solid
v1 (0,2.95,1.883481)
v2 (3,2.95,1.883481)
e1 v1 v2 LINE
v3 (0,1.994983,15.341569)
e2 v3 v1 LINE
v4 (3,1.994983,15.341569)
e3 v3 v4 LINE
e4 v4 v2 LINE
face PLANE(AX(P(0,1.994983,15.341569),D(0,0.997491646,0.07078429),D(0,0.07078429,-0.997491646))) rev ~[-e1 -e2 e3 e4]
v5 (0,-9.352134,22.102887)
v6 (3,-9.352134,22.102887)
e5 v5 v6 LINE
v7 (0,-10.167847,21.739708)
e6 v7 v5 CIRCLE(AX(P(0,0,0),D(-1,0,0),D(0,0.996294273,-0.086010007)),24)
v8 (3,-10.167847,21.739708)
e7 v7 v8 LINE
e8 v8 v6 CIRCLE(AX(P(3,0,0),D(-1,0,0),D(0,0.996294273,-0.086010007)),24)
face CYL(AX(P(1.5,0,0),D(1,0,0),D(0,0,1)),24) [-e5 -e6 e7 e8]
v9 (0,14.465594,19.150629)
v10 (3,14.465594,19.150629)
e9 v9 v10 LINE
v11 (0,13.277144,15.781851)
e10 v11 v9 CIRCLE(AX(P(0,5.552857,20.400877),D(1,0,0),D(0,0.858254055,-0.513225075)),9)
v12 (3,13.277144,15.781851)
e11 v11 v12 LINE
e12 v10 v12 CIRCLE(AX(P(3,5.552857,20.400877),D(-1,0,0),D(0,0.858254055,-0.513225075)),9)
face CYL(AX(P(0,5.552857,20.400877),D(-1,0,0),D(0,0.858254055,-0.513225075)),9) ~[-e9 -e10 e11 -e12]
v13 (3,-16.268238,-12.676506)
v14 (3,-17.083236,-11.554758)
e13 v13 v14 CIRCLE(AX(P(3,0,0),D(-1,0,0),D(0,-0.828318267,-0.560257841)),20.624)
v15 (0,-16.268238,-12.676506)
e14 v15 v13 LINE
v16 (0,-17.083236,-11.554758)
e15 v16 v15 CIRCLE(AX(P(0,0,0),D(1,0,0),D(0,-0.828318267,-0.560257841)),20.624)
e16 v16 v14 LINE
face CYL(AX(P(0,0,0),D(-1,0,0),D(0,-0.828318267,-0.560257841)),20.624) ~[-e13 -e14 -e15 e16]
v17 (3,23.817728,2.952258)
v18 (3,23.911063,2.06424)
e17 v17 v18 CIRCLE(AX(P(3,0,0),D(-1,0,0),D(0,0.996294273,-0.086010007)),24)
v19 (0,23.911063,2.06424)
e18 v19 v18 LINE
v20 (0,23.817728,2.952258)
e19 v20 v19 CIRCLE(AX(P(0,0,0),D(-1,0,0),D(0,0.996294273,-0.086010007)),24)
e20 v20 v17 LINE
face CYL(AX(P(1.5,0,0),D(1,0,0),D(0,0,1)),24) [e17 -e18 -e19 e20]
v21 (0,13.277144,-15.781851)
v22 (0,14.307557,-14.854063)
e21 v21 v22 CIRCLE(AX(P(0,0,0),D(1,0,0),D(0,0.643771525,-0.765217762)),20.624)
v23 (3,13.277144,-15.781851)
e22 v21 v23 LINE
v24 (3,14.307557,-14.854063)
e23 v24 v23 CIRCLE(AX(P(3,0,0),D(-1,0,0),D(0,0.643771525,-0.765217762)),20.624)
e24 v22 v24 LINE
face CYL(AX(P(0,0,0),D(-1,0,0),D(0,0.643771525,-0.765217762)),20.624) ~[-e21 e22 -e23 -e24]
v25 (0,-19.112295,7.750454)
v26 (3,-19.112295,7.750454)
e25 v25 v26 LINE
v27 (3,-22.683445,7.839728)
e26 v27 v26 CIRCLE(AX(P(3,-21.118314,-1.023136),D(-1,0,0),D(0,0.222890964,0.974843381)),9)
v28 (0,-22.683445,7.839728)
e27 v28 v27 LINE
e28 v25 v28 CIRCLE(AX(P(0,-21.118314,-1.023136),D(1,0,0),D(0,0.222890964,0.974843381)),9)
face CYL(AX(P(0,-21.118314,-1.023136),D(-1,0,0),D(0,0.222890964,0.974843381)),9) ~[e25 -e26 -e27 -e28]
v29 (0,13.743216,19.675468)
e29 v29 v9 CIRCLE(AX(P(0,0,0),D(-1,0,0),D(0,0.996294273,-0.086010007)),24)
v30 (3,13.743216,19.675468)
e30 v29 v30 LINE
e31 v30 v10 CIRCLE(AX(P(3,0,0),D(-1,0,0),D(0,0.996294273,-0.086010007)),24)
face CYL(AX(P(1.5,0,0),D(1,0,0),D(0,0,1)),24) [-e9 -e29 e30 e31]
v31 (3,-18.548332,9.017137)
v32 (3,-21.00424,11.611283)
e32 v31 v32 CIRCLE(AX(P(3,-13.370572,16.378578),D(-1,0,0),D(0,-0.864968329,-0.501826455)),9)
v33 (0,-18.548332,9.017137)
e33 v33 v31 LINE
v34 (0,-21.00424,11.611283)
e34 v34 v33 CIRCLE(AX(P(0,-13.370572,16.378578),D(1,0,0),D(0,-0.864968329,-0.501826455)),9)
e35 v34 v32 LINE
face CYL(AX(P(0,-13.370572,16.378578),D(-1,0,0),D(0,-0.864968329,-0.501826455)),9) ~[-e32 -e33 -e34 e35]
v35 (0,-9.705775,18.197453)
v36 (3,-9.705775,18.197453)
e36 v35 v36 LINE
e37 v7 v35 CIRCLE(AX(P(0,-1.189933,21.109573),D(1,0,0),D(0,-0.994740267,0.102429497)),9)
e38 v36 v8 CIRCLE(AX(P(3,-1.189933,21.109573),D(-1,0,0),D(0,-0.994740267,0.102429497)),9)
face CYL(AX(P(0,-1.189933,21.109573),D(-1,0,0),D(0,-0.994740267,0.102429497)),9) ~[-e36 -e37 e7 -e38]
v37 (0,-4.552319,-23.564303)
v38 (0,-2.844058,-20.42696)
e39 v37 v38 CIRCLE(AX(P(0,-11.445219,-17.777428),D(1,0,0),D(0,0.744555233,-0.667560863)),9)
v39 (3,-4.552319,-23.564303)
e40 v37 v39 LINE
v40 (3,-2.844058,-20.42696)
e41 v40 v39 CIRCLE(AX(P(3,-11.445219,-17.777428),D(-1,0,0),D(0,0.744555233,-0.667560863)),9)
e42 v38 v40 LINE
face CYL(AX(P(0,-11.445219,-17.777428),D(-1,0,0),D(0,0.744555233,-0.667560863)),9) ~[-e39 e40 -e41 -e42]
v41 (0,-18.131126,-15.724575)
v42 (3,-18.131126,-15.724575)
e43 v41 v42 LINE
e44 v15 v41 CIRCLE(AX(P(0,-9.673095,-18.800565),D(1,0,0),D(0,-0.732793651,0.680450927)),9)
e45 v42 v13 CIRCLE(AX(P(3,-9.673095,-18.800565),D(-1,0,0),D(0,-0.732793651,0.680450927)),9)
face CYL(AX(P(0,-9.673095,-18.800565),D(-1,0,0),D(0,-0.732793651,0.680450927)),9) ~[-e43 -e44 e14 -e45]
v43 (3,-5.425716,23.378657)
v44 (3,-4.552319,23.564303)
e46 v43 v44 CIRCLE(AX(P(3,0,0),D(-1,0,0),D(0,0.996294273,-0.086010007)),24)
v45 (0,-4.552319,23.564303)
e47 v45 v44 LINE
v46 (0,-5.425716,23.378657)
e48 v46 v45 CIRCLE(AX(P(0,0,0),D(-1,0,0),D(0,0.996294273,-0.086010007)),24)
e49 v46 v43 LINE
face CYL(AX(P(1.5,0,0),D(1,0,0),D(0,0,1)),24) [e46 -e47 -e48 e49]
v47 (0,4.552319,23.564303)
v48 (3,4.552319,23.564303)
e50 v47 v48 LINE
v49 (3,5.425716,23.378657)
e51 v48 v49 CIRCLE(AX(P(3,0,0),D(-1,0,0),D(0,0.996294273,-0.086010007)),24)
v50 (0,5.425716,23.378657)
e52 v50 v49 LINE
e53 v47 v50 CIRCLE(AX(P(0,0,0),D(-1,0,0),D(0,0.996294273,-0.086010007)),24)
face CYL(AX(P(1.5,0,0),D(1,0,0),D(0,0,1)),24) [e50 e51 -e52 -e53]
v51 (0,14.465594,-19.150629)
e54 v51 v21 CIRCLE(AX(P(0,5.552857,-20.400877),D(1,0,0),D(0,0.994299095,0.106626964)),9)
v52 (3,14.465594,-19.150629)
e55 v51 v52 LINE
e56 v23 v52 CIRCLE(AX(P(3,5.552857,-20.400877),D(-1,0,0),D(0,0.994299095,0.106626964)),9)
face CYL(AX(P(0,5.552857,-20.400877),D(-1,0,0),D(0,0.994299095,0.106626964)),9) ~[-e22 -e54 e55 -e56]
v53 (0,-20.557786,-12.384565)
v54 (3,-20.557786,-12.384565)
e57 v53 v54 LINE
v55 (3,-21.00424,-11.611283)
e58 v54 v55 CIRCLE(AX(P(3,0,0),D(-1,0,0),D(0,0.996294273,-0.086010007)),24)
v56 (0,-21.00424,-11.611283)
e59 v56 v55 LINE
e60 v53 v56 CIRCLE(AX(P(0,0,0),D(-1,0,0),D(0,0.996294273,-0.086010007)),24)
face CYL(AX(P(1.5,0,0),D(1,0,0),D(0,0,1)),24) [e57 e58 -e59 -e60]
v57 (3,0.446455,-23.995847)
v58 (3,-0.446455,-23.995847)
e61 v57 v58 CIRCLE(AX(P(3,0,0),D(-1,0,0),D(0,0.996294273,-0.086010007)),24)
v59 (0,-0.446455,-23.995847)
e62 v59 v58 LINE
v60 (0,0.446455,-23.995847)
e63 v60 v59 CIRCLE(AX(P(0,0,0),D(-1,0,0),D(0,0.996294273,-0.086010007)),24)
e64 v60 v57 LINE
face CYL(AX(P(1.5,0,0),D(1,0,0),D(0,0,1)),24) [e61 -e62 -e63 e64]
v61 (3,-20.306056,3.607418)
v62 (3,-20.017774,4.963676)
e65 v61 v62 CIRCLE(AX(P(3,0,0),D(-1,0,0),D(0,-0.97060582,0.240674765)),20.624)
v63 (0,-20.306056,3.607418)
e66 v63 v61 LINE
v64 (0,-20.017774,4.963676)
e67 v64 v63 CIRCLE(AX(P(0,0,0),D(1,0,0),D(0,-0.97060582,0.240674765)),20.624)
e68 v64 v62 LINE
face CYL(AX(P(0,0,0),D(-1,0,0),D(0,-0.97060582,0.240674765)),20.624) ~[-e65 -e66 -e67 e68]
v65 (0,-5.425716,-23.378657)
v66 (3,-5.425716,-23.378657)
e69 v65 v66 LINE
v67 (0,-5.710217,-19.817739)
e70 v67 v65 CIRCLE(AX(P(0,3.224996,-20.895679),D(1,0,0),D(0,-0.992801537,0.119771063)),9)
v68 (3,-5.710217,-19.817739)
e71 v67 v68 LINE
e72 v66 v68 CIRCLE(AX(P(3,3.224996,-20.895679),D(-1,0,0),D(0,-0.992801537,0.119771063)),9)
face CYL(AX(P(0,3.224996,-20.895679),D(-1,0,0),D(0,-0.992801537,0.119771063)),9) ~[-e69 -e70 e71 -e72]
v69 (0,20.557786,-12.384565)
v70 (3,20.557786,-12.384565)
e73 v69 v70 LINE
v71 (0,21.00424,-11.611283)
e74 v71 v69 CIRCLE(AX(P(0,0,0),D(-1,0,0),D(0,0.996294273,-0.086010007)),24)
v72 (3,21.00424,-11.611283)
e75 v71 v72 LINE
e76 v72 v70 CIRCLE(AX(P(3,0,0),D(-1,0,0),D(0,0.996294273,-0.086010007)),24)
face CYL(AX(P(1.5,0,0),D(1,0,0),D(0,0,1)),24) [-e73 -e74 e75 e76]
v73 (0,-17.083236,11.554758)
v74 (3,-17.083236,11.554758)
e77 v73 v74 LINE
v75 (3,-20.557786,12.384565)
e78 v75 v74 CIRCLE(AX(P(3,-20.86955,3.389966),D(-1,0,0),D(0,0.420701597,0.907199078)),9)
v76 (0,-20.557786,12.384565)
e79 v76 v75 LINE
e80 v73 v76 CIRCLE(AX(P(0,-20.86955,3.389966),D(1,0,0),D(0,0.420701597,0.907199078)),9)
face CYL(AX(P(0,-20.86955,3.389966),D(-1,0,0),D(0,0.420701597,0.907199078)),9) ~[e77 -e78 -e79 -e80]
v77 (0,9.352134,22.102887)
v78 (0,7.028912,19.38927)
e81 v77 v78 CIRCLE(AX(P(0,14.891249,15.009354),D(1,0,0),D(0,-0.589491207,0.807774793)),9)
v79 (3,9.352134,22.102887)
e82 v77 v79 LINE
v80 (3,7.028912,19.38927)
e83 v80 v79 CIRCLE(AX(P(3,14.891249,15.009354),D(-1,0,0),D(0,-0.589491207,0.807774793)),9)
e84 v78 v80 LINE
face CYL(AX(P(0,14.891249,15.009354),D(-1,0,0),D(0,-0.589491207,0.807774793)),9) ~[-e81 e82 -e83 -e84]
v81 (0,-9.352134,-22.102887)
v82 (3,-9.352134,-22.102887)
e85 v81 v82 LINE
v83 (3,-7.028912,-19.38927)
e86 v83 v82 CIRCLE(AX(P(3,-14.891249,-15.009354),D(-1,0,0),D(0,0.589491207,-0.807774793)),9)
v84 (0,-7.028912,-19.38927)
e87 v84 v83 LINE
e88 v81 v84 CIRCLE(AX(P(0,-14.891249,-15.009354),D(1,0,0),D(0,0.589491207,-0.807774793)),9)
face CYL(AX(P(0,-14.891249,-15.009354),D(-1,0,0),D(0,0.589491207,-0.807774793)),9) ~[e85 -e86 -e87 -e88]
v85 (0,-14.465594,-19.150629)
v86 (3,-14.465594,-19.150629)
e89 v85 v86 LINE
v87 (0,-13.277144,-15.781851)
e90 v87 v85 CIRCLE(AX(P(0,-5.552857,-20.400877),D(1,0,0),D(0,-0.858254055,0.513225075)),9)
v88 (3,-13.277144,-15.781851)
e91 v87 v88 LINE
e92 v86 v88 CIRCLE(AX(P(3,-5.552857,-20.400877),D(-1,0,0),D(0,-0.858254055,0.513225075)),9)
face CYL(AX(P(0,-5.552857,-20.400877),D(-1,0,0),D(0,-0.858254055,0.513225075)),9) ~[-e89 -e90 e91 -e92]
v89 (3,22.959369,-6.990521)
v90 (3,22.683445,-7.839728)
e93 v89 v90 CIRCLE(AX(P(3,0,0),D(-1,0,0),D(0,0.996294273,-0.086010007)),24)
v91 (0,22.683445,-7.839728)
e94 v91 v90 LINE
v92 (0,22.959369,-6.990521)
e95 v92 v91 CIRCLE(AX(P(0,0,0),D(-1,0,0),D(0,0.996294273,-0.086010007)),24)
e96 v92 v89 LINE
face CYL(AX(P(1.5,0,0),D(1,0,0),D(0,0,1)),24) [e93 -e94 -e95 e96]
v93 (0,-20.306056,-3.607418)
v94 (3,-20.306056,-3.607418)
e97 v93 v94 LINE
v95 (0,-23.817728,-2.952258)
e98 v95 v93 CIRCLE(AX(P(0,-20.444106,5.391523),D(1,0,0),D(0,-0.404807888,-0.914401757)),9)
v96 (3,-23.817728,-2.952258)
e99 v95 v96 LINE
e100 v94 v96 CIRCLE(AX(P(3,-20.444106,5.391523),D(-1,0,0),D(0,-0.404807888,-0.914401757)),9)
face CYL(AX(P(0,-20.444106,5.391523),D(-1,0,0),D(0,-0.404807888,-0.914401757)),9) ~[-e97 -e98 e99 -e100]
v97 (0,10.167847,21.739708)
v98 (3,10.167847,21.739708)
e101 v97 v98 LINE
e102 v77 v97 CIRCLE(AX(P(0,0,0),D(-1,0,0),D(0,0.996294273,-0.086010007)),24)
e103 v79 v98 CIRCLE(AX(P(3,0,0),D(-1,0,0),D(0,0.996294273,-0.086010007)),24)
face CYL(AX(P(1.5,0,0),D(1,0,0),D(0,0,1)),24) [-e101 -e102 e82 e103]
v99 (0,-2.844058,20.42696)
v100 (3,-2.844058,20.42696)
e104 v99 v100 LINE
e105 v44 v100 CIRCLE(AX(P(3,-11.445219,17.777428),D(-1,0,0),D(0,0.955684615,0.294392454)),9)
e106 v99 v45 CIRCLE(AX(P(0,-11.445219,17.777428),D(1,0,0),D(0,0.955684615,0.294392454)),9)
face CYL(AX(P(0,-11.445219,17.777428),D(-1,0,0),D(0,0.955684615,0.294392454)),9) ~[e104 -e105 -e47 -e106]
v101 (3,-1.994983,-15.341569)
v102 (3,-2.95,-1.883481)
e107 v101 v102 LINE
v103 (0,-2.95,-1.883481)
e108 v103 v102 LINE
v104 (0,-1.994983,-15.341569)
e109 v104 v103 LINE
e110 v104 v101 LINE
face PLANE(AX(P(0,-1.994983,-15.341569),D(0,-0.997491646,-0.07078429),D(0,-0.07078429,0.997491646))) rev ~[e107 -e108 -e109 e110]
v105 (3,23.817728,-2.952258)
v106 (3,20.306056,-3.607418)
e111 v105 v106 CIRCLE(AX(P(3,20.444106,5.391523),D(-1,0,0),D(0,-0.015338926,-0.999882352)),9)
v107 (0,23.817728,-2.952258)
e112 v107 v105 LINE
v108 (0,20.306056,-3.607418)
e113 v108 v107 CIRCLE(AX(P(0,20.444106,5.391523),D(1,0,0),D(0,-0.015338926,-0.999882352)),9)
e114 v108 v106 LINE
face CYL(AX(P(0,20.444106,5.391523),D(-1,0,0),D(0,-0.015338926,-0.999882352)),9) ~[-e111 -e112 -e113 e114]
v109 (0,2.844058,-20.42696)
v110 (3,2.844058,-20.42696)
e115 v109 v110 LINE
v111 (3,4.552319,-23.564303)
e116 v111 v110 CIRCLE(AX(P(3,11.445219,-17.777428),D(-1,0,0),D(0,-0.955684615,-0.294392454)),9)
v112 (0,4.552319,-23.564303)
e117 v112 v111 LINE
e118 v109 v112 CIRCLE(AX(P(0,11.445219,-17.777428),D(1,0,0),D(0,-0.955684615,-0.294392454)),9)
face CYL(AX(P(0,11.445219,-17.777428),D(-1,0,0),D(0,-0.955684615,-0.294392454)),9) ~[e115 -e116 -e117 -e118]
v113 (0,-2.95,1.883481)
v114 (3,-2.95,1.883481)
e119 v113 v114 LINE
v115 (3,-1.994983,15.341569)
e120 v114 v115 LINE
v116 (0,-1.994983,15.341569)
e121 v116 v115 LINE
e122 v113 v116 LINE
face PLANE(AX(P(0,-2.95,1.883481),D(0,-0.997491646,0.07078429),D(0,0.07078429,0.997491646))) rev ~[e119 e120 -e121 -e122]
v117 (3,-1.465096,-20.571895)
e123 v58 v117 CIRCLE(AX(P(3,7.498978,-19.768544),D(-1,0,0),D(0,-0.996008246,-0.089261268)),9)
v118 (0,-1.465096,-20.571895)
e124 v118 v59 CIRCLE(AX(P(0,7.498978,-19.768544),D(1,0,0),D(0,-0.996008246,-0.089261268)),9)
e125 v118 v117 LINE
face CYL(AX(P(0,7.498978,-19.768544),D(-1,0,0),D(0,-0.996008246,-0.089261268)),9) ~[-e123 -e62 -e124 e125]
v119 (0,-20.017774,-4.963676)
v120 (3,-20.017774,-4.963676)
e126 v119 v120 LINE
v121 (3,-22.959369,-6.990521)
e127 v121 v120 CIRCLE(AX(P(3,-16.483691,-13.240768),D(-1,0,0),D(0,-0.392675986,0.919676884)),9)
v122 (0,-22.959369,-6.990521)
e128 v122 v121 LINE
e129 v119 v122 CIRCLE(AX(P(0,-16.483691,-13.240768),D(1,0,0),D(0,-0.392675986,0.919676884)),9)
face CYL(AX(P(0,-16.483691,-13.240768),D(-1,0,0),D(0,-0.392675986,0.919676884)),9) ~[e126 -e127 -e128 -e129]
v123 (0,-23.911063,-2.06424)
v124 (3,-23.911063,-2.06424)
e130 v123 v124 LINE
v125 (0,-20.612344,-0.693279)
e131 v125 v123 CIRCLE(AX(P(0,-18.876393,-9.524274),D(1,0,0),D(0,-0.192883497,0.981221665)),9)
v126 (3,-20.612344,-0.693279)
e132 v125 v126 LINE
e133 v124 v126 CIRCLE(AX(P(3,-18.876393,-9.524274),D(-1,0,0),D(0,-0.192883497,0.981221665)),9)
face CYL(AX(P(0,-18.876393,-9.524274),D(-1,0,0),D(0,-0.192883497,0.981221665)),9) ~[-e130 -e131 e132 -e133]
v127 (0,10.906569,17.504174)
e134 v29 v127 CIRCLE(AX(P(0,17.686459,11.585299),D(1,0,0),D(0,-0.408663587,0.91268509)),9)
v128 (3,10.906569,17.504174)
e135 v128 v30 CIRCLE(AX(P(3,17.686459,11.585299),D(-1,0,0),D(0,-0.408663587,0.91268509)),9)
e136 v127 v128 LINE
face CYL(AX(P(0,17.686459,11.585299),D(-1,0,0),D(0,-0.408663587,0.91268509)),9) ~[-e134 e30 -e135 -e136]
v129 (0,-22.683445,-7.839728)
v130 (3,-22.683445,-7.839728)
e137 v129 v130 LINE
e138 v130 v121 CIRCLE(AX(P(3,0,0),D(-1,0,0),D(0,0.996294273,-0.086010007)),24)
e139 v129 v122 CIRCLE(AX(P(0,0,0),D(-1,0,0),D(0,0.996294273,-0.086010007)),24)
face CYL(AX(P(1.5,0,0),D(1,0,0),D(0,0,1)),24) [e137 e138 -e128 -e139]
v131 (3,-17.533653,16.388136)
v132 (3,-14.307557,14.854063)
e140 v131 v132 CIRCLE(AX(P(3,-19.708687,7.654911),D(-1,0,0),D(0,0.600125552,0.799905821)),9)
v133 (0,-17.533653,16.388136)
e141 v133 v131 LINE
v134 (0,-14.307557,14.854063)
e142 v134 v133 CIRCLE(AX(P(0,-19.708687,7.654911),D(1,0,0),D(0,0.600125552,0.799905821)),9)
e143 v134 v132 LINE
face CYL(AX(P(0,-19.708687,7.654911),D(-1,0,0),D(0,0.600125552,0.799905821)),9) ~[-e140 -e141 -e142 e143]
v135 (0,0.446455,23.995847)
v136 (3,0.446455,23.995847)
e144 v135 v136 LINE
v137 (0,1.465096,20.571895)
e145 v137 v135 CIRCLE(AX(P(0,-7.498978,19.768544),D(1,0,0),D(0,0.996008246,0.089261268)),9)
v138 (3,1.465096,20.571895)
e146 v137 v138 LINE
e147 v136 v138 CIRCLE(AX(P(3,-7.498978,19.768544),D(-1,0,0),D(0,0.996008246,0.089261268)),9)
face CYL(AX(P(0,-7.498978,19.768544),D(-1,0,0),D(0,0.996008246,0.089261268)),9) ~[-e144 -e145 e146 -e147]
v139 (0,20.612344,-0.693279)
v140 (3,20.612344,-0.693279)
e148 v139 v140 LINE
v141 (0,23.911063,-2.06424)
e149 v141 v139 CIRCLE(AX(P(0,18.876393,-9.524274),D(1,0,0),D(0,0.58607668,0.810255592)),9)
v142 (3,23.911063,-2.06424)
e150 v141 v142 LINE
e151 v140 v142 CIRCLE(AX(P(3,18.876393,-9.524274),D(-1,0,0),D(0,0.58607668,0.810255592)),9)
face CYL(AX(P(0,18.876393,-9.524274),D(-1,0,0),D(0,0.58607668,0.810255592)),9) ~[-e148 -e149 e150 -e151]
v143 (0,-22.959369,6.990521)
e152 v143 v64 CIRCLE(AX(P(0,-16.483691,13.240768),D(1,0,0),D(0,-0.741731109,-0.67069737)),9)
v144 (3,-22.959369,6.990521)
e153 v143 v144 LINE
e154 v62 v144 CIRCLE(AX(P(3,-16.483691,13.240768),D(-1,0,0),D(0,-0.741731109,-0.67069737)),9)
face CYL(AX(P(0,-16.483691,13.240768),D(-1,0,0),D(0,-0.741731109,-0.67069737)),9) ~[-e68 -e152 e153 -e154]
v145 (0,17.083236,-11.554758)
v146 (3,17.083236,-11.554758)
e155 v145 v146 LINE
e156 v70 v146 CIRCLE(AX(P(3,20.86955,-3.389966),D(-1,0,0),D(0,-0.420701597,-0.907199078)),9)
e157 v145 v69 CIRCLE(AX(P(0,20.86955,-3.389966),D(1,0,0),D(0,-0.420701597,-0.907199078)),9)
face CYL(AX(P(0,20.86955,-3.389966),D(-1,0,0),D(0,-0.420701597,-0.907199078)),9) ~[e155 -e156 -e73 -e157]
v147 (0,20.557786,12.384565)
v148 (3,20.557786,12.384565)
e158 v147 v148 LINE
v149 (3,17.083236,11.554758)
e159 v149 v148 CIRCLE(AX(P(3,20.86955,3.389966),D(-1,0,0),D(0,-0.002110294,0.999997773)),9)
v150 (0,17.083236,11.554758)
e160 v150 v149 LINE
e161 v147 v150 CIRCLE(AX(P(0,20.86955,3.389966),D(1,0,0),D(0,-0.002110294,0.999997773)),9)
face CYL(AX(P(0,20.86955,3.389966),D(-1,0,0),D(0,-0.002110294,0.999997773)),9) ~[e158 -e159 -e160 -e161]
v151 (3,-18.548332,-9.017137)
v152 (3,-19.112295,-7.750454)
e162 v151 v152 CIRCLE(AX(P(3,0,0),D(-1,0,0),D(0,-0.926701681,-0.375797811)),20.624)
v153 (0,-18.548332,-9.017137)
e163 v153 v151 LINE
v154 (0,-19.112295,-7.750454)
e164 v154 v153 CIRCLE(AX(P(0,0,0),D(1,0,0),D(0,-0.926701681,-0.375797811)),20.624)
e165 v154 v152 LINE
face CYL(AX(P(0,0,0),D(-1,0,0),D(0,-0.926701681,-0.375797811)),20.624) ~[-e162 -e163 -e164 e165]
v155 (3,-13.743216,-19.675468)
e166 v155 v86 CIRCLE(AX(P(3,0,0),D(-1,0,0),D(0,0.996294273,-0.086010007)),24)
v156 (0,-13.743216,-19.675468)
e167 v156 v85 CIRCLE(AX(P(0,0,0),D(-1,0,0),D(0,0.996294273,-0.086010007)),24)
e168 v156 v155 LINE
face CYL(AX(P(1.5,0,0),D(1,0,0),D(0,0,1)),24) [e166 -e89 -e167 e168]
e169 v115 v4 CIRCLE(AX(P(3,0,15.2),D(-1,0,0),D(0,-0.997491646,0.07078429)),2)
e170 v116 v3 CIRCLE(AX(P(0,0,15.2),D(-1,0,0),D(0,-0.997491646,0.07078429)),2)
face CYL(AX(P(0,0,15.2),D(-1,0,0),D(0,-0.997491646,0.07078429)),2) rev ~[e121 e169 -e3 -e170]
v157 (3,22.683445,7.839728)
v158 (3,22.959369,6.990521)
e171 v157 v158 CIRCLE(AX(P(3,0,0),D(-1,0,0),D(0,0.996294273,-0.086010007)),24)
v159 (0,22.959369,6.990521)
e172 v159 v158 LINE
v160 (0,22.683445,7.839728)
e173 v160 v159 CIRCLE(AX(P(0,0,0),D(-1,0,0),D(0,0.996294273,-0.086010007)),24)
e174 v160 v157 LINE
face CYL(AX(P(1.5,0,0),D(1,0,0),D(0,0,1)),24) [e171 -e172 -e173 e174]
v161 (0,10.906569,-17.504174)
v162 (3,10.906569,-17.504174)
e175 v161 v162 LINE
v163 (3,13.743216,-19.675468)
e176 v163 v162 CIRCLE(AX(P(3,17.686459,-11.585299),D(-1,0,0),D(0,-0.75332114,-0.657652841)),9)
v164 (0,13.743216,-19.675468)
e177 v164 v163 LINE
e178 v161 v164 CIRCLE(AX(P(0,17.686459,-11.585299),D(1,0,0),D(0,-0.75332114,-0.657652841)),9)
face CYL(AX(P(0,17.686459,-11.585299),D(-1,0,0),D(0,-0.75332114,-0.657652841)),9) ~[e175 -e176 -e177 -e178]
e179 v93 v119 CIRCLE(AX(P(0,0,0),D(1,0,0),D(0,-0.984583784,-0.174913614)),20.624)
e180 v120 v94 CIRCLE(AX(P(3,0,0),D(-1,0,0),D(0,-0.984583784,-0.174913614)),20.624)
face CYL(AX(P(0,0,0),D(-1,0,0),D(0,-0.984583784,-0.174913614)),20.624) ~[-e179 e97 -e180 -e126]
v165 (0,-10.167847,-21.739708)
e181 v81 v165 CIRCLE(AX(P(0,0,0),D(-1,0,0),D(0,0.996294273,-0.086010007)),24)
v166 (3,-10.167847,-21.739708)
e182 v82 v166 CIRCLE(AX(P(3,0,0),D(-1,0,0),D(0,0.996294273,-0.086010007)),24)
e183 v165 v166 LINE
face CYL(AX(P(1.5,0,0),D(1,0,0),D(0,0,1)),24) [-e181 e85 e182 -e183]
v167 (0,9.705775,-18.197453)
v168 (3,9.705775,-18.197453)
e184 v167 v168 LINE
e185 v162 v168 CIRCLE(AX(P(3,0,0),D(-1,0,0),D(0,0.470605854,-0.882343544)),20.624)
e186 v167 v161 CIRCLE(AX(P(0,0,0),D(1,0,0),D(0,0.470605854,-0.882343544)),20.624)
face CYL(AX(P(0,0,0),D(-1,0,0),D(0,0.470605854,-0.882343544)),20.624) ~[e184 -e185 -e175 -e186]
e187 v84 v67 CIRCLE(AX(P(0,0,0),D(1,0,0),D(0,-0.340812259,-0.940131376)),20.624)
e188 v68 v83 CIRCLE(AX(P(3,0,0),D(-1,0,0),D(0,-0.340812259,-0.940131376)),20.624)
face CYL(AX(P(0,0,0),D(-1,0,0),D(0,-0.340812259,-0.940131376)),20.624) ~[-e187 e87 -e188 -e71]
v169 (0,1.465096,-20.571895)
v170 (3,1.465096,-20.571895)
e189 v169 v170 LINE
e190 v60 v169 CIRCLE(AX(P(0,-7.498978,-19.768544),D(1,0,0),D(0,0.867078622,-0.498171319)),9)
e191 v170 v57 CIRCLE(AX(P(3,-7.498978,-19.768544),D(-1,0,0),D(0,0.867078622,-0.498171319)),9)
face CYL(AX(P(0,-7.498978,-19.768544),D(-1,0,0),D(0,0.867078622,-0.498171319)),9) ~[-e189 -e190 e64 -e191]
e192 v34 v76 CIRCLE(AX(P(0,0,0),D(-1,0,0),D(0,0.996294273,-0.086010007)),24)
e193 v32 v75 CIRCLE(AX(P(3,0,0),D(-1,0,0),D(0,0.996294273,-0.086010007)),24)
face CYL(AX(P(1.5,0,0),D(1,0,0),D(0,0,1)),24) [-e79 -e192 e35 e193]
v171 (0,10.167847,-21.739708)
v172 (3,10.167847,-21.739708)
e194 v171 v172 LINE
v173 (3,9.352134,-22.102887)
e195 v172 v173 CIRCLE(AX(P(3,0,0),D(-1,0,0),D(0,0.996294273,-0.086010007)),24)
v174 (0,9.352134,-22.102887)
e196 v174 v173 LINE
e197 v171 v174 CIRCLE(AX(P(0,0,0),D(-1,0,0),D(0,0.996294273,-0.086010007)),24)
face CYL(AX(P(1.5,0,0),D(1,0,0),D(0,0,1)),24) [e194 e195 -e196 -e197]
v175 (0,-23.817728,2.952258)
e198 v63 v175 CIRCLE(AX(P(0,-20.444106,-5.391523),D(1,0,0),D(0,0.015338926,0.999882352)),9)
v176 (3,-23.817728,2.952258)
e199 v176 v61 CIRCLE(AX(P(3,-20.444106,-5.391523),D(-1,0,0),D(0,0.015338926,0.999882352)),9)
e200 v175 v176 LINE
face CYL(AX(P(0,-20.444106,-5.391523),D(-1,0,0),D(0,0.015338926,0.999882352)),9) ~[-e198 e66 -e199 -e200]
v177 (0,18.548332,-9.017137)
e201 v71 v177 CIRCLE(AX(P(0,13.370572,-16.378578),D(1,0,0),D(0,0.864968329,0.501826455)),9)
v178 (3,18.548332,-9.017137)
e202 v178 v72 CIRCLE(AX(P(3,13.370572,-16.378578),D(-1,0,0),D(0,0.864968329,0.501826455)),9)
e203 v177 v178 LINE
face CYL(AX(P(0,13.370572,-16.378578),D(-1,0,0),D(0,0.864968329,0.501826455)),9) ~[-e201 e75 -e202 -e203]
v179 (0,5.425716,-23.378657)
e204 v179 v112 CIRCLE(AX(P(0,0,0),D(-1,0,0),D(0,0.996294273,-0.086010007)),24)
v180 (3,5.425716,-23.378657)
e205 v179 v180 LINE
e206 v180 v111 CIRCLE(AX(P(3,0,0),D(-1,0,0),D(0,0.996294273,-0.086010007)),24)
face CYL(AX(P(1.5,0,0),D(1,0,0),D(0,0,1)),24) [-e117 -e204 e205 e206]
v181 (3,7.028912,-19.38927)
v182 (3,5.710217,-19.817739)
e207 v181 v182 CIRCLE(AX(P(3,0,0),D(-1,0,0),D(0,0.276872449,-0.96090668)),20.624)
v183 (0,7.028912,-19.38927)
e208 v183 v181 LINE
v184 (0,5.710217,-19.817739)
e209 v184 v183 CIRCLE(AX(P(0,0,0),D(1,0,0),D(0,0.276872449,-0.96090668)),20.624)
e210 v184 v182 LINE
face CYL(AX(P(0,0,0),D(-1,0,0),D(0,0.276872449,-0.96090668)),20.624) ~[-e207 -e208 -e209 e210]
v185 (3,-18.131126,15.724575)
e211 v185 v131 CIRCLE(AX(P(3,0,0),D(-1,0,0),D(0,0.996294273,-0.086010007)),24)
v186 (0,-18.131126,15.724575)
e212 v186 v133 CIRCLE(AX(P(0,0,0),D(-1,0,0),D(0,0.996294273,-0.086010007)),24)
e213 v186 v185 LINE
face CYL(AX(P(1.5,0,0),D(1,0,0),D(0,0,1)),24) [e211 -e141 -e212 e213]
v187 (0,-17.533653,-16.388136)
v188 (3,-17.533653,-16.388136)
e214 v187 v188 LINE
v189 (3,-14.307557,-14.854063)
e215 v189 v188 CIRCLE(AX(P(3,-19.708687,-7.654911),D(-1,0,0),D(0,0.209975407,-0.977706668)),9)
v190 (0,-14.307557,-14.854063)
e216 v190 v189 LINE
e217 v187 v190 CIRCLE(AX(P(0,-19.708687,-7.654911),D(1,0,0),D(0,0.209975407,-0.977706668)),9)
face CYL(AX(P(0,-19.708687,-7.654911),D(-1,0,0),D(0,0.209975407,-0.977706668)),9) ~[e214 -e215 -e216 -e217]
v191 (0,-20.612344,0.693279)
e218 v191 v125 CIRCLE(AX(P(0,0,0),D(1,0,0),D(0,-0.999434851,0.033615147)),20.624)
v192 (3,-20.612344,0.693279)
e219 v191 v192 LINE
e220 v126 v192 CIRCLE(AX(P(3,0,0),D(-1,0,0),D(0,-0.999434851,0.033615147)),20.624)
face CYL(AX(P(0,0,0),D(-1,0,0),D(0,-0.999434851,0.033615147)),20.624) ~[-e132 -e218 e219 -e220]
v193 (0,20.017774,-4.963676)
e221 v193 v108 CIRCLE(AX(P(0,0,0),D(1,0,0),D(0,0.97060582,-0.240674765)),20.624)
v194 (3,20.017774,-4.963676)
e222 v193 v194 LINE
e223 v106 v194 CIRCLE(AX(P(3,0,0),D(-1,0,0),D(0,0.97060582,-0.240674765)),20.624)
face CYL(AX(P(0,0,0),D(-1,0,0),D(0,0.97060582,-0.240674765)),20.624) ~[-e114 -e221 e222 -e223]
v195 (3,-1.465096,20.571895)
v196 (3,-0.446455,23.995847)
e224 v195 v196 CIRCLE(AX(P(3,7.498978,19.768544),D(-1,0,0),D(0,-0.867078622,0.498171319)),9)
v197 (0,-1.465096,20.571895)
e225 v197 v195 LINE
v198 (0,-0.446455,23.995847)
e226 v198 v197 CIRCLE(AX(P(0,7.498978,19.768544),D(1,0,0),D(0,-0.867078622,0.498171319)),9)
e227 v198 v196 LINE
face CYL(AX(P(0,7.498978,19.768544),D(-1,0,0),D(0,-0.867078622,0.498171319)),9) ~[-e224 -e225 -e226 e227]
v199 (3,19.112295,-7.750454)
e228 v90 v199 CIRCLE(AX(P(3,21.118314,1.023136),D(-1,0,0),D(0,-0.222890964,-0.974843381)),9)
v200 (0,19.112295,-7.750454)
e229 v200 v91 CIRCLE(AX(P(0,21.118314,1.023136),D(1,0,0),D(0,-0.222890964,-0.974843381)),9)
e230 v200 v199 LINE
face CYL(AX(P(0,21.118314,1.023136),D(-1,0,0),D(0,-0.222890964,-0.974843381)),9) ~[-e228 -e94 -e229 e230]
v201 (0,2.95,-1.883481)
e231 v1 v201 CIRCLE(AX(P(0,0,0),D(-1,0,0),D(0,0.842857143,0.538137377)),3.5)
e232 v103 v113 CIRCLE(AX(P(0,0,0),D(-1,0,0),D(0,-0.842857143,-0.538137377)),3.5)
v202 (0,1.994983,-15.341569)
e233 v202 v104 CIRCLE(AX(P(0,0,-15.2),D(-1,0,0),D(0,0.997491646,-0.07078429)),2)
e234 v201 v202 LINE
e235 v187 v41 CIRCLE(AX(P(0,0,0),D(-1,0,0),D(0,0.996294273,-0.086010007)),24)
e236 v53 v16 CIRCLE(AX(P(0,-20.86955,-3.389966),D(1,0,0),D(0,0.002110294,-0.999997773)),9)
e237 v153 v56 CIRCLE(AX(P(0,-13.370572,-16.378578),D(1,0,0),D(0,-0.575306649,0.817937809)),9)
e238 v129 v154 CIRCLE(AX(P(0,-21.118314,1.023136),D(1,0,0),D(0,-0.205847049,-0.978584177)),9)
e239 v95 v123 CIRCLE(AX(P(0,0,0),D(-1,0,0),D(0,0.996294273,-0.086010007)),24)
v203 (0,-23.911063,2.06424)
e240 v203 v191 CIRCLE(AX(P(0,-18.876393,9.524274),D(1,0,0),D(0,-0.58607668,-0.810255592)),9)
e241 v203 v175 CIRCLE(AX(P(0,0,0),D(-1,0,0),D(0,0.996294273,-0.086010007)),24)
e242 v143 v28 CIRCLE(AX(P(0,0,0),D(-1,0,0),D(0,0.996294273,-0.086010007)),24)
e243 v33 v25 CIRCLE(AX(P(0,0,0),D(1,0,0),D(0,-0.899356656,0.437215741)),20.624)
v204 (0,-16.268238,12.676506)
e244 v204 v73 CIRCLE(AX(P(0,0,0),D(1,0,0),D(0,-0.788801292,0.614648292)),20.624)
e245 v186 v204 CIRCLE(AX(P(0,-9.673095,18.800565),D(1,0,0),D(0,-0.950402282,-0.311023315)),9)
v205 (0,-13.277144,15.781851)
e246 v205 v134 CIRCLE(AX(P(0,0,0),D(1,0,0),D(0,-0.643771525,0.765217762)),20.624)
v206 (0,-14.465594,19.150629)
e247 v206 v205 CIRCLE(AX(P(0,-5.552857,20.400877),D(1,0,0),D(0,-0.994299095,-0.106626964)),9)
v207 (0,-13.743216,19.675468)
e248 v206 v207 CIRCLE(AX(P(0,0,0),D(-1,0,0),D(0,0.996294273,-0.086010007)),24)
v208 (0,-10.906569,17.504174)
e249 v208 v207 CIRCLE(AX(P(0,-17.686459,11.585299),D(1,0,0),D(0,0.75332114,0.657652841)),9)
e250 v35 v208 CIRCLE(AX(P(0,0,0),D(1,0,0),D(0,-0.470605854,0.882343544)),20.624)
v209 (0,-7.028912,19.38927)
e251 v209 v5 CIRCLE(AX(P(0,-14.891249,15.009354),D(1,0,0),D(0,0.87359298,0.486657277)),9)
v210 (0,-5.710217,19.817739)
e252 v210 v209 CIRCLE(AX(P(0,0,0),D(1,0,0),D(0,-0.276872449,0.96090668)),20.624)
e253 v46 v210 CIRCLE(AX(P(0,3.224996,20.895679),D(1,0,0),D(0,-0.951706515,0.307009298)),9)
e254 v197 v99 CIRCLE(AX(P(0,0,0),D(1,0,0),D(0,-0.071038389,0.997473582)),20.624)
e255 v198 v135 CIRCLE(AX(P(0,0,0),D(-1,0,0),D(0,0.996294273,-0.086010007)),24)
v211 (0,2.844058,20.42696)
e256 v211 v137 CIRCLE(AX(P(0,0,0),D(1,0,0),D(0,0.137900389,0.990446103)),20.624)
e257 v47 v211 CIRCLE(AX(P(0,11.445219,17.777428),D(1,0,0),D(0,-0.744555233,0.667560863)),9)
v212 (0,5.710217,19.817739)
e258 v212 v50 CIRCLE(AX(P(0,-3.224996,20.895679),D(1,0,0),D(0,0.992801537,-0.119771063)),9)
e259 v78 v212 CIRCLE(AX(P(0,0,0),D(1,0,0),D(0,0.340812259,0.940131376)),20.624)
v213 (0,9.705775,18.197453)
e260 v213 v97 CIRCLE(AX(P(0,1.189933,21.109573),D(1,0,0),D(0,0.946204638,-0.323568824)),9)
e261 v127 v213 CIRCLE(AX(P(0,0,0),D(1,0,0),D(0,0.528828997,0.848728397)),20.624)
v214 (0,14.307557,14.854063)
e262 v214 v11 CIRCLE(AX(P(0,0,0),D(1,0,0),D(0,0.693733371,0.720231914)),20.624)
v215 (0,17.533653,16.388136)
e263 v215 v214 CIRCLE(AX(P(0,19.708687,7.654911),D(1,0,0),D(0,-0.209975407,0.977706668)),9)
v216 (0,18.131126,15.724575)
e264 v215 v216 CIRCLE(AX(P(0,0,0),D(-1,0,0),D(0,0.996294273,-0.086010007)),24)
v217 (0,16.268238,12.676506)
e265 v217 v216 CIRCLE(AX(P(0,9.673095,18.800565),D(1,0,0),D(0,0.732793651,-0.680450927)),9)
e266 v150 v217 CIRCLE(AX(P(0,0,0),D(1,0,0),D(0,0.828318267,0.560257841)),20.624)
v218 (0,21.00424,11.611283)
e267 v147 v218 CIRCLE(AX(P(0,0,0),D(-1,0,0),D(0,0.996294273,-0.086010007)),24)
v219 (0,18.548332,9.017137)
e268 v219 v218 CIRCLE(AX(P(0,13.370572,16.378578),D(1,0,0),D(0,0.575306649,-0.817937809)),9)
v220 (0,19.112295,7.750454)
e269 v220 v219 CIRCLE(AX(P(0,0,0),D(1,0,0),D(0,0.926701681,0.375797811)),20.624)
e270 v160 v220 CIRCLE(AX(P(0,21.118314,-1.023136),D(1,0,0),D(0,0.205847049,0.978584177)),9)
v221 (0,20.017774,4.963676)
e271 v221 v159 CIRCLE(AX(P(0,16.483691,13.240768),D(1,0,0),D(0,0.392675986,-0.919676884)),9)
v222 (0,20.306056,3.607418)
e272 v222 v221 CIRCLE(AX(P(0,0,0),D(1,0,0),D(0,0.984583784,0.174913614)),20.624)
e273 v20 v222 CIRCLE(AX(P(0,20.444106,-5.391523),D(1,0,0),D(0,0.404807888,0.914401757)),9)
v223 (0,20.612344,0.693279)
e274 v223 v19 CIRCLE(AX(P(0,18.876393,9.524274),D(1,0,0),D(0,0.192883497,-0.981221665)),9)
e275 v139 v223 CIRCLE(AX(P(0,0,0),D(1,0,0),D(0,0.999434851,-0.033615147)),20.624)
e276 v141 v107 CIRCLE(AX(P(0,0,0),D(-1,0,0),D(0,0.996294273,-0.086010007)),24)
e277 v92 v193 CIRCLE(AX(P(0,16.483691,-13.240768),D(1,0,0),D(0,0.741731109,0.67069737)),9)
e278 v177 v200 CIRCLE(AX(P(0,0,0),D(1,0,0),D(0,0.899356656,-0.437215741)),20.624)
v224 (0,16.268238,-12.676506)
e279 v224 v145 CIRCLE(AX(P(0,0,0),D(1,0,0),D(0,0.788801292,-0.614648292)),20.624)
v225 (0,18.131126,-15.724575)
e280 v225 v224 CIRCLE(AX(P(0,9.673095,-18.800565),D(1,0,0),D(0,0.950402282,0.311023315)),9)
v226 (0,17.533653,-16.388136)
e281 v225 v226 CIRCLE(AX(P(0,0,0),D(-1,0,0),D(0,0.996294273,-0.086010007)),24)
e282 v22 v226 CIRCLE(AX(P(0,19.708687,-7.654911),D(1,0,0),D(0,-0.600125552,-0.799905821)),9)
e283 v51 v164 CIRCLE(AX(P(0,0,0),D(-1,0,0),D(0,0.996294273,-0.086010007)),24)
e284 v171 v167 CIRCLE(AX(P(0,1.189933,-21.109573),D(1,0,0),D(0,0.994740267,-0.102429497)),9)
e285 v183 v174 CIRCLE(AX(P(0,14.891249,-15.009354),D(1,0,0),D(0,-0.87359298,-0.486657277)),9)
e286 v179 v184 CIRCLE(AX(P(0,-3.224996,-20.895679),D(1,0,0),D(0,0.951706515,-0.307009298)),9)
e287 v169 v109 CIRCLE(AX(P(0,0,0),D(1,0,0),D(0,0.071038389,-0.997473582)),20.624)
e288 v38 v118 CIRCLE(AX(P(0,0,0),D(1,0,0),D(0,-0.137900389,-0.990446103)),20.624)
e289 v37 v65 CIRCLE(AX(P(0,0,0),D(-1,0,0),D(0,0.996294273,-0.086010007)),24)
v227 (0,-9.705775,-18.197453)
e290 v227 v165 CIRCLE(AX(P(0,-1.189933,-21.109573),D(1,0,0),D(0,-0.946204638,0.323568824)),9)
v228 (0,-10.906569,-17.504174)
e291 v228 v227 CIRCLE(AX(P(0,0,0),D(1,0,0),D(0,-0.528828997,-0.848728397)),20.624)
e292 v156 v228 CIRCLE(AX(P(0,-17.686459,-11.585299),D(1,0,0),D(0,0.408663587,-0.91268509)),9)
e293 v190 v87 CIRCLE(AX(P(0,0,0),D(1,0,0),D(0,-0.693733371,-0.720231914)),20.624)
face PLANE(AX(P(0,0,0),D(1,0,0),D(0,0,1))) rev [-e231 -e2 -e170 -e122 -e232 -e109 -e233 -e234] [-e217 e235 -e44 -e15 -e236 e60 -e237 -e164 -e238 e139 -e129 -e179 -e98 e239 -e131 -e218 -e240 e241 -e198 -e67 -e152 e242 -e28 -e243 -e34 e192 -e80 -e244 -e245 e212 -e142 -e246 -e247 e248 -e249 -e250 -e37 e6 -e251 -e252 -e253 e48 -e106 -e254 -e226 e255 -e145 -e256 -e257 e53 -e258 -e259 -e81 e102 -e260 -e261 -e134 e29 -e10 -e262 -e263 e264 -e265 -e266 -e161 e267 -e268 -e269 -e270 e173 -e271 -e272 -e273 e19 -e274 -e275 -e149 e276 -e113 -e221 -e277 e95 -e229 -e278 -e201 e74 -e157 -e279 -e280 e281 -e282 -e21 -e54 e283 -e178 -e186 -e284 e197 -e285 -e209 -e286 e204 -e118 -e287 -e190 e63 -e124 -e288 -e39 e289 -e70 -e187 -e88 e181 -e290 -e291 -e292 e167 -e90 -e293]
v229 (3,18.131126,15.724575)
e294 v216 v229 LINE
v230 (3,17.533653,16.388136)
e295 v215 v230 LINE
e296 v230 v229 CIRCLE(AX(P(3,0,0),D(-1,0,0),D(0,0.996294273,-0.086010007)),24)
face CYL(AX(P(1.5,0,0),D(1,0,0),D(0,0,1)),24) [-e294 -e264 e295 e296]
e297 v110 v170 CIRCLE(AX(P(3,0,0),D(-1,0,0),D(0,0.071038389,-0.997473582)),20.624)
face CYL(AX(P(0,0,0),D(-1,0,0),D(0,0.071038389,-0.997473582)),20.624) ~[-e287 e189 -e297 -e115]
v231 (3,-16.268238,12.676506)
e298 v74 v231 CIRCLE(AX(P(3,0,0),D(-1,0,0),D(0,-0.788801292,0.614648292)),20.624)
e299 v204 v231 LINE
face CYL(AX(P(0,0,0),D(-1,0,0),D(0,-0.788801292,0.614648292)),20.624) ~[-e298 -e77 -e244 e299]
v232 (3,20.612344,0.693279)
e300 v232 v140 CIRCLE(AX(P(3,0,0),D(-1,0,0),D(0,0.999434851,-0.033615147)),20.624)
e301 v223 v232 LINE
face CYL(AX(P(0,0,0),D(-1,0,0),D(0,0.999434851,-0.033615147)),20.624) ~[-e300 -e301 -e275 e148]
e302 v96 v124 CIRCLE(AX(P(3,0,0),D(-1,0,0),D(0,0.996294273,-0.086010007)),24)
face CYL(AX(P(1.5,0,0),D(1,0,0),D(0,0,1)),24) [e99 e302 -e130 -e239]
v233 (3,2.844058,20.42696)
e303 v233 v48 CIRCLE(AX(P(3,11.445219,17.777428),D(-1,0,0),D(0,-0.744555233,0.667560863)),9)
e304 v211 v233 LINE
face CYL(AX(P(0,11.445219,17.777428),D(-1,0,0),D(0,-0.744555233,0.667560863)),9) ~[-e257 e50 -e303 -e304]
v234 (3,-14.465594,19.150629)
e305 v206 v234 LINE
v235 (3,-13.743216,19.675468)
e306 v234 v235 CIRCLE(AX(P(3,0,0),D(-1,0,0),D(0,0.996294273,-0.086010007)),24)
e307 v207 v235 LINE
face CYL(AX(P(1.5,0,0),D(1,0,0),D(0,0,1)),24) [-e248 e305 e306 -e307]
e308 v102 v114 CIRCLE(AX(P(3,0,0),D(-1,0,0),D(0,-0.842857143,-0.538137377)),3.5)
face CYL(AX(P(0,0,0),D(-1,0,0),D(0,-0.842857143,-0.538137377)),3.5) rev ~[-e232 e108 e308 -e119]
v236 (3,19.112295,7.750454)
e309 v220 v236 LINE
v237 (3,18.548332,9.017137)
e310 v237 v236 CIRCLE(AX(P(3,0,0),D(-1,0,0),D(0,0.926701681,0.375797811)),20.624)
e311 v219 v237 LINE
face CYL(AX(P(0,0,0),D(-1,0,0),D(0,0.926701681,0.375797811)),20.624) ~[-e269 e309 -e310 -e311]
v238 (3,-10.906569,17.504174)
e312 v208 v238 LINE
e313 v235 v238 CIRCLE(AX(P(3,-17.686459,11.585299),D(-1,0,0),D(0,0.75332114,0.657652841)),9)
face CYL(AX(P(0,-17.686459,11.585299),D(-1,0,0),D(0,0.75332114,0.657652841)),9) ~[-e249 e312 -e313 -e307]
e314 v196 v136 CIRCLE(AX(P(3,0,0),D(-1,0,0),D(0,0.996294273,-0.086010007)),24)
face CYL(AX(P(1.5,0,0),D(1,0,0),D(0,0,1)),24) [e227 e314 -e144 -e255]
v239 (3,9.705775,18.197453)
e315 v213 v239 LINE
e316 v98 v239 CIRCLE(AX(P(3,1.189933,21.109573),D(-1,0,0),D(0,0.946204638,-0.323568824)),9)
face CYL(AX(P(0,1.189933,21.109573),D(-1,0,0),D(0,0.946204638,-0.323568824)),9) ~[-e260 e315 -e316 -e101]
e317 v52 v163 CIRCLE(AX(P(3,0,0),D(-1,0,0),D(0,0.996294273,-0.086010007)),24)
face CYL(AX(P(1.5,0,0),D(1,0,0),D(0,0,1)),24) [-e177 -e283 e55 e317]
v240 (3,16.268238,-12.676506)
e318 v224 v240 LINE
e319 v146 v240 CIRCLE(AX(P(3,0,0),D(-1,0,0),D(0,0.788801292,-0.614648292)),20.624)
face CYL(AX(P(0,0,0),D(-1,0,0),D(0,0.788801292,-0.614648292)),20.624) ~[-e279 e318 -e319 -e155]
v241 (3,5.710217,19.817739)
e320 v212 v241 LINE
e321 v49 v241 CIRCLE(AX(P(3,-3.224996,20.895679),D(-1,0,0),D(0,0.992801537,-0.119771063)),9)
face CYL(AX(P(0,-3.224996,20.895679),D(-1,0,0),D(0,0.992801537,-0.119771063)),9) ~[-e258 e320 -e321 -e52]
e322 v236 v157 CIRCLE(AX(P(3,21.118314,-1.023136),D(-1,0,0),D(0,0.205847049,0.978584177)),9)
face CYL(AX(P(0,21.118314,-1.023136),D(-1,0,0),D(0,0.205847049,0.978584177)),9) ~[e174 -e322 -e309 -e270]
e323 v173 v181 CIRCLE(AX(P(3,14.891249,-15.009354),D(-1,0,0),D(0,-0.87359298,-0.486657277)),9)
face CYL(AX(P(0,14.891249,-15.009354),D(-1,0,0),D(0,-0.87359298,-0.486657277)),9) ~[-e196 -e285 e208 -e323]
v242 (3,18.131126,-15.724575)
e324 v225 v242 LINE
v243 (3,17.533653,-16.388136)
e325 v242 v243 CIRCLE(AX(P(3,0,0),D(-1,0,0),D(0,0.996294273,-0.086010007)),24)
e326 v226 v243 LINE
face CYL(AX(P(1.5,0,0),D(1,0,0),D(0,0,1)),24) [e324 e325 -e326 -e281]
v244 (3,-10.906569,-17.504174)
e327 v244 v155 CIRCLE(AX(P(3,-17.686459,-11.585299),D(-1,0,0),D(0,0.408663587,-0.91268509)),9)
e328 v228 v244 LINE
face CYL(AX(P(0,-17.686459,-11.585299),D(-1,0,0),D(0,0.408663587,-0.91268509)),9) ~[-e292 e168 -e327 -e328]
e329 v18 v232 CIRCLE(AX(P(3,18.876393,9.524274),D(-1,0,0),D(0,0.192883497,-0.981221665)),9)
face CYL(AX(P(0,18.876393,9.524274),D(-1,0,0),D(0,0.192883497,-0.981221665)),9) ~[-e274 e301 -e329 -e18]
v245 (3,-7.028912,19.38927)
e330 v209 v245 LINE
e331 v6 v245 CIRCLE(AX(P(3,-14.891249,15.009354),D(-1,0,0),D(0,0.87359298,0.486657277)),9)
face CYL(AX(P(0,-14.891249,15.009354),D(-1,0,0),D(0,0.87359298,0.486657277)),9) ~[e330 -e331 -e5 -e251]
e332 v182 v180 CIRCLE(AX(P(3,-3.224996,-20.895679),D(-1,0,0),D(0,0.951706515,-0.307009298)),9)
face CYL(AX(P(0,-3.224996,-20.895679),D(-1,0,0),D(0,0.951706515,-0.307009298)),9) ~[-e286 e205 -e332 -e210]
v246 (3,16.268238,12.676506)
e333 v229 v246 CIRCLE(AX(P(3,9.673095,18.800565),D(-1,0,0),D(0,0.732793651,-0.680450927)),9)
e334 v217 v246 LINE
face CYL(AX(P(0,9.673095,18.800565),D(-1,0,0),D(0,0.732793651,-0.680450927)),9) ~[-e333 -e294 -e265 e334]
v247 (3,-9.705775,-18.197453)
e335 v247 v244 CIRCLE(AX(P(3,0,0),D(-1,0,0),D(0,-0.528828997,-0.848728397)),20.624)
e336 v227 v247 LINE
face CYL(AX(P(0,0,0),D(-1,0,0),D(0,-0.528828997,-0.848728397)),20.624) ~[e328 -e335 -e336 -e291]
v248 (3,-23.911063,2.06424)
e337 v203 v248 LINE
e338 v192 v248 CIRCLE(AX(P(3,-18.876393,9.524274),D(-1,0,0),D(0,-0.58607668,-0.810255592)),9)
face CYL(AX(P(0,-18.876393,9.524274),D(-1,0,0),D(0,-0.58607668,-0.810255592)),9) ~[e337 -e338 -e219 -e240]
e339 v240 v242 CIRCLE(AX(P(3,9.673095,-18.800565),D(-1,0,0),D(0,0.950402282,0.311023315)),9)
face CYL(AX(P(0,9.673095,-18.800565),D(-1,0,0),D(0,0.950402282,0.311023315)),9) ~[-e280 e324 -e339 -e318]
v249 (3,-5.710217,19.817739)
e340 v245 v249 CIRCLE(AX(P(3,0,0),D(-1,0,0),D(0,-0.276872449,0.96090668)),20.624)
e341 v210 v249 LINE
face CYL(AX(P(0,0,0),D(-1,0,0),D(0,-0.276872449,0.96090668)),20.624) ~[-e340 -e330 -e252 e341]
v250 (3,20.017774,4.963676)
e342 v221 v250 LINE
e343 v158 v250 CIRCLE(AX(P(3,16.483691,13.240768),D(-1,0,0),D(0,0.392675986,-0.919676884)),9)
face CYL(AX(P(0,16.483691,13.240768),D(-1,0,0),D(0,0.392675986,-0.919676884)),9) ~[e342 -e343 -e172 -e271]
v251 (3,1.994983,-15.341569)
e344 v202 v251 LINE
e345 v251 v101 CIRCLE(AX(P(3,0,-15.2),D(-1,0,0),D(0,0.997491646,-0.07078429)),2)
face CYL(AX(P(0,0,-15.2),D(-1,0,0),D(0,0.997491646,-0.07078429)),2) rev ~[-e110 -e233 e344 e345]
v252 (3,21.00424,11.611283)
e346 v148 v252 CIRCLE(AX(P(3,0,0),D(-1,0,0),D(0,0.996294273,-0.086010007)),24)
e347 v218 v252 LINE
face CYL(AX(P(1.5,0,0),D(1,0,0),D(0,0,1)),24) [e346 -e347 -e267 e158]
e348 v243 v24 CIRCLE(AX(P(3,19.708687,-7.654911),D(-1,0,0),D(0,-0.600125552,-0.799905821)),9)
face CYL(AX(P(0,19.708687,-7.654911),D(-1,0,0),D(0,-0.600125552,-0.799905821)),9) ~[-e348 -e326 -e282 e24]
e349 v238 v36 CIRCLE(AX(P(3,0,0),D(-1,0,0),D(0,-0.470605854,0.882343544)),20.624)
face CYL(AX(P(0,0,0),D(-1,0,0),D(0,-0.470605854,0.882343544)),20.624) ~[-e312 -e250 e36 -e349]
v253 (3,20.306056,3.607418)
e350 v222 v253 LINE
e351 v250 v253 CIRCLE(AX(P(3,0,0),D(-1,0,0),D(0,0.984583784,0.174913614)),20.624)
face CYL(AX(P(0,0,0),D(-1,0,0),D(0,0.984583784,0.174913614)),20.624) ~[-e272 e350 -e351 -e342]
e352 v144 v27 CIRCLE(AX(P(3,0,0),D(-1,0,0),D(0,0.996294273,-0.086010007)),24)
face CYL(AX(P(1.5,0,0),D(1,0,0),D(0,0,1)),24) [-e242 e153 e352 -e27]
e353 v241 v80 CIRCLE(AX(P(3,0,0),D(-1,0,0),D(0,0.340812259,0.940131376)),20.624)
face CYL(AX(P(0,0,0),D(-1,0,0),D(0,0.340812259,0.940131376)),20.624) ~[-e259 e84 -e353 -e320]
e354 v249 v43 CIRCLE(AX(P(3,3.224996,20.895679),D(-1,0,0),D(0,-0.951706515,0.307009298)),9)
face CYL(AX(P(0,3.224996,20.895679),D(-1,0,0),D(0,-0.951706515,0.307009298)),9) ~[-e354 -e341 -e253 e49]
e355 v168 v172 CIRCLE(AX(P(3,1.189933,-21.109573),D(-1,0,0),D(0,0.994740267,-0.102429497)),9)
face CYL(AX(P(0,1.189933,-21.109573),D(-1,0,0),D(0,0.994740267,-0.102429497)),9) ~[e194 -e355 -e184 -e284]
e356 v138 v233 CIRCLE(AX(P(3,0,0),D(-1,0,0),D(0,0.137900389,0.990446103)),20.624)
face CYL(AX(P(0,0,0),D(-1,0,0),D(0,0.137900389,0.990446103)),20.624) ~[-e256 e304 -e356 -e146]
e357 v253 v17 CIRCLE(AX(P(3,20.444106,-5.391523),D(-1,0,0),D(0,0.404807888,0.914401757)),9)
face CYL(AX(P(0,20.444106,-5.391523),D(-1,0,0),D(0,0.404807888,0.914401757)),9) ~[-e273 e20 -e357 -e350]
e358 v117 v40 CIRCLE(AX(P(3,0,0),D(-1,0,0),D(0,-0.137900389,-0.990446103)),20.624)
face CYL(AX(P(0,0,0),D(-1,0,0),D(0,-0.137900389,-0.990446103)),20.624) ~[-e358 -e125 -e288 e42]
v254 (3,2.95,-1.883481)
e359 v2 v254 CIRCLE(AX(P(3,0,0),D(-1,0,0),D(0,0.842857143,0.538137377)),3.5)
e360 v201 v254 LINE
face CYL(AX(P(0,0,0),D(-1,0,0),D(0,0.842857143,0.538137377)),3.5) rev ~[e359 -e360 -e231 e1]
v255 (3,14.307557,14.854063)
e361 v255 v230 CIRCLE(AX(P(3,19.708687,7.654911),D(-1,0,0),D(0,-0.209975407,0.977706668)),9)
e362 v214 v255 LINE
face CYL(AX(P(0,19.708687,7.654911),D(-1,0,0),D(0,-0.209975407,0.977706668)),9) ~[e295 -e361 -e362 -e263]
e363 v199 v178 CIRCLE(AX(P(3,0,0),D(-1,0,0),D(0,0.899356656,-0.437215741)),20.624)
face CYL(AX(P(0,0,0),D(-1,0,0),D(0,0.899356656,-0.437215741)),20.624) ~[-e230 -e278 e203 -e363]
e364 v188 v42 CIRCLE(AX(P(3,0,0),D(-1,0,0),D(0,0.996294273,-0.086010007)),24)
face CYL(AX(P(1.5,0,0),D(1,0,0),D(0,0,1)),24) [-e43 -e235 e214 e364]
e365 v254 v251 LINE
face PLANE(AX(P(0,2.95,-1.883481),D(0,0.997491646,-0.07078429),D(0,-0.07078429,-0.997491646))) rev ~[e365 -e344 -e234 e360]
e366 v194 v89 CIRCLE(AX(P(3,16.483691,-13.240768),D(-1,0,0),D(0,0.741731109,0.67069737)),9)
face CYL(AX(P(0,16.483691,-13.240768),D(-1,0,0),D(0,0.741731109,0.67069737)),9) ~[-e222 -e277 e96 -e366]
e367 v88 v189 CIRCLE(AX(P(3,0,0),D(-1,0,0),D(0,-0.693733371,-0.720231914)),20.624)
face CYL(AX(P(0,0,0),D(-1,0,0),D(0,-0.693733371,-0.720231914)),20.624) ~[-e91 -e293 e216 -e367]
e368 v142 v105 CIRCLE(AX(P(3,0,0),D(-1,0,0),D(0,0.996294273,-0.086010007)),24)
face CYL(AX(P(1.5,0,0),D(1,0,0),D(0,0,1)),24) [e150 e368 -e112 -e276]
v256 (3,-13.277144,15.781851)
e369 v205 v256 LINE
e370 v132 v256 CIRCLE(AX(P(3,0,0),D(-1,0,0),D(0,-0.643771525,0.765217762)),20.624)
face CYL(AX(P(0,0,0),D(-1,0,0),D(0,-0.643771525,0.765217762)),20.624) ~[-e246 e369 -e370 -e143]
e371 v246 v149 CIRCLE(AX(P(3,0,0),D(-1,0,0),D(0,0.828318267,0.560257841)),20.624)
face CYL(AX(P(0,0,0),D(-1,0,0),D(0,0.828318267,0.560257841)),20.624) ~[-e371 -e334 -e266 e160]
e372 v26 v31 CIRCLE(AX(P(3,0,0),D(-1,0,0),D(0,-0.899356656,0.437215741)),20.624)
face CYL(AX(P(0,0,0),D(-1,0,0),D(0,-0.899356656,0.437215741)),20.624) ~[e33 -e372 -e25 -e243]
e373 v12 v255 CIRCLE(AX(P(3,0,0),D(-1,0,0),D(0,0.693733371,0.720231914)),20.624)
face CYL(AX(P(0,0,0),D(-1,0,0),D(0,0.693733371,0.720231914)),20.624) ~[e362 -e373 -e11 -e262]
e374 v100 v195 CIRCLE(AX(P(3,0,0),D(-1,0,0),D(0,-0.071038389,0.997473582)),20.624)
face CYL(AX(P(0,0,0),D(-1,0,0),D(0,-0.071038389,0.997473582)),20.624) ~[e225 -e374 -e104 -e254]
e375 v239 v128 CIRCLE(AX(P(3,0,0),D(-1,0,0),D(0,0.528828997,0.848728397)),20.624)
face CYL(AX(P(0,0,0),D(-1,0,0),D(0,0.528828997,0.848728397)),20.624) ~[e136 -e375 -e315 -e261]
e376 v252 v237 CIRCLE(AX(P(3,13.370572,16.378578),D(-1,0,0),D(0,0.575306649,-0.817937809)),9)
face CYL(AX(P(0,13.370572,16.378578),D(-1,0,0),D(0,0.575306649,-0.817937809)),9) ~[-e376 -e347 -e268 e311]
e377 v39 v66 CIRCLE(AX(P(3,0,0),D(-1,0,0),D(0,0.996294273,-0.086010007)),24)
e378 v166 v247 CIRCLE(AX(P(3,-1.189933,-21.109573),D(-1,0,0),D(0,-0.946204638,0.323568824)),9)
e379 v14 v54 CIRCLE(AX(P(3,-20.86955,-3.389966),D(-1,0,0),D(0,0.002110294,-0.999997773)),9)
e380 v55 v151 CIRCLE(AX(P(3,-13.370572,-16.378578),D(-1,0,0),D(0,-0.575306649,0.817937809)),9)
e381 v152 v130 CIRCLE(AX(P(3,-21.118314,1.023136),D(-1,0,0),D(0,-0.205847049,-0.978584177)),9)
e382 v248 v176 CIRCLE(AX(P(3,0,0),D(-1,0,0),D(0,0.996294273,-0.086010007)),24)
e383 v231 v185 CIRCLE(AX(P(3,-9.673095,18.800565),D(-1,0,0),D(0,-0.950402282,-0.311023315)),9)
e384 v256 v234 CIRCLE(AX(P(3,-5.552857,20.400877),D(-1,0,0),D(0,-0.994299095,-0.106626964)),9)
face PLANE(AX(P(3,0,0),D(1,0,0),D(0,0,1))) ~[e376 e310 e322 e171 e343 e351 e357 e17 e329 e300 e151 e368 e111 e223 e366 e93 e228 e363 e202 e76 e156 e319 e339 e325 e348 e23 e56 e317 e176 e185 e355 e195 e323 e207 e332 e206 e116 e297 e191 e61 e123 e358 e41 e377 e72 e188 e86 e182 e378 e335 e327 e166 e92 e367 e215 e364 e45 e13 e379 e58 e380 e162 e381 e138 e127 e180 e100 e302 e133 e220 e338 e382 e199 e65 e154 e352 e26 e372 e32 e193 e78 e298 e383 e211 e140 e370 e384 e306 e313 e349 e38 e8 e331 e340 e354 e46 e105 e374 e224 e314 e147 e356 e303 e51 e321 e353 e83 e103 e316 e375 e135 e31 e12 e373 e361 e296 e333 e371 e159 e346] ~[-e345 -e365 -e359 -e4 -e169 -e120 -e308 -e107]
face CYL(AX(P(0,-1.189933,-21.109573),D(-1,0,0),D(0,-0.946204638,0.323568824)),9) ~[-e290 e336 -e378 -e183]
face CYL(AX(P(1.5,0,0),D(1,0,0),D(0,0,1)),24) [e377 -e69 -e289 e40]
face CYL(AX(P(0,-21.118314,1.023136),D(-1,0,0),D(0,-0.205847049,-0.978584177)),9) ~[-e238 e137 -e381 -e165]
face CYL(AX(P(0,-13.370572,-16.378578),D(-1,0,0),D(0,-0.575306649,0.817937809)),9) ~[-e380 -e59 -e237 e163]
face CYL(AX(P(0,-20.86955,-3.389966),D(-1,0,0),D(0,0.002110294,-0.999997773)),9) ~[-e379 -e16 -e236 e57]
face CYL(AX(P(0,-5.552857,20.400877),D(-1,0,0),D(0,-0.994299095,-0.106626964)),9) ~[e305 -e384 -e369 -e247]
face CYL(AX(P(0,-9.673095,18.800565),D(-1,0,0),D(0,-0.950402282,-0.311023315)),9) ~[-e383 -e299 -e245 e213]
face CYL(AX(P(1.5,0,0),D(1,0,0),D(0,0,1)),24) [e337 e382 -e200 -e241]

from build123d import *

# Parameters (mm, degrees)
BASPROSKE_W        = 3
BASPROSKE_H        = 24
TOOTHCUT_DEPTH     = 35.073450075
TEETHCUTS_COUNT    = 30
TEETHCUTS_ANGLE    = 348
BORSKE_R           = 2
BORE_DEPTH         = 50.001016
CUT_EXTRUDE1_DEPTH = 35.010864624


with BuildPart() as part:
    # BasProSke → Base-Revolve (revolve)
    with BuildSketch(Plane(origin=(0, 0, 0), x_dir=(1, 0, 0), z_dir=(0, 1, 0)), mode=Mode.PRIVATE) as base_revolve_sk:
        with Locations((1.5, 12)):
            Rectangle(BASPROSKE_W, BASPROSKE_H)
    revolve(base_revolve_sk.sketch.rotate(Axis((-10, 0, 0), (1, 0, 0)), 180), axis=Axis((-10, 0, 0), (1, 0, 0)))

    # TooCutSke → ToothCut (cut, through all)
    with BuildSketch(Plane(origin=(0, 0, 0), x_dir=(0, 0, -1), z_dir=(1, 0, 0))):
        with BuildLine():
            ThreePointArc((0.693278797, 20.612344372), (0, 20.624), (-0.693278797, 20.612344372))
            ThreePointArc((-0.693278797, 20.612344372), (-1.270739341, 22.465148834), (-2.231973449, 24.151083009))
            ThreePointArc((-2.231973449, 24.151083009), (0, 24.254), (2.231973449, 24.151083009))
            ThreePointArc((2.231973449, 24.151083009), (1.270739341, 22.465148834), (0.693278797, 20.612344372))
        make_face()
    toothcut = extrude(amount=TOOTHCUT_DEPTH, mode=Mode.SUBTRACT)

    # TeethCuts: ToothCut ×30 about axis
    teethcuts_axis = Axis((-10, 0, 0), (1, 0, 0))
    for i in range(1, TEETHCUTS_COUNT):
        add(toothcut.rotate(teethcuts_axis, i * TEETHCUTS_ANGLE / (TEETHCUTS_COUNT - 1)), mode=Mode.SUBTRACT)

    # BorSke → Bore (cut, symmetric)
    with BuildSketch(Plane(origin=(0, 0, 0), x_dir=(0, 0, -1), z_dir=(1, 0, 0))):
        with Locations(Location((0, 0, 0), (0, 0, 180))):
            Circle(BORSKE_R)
    extrude(amount=BORE_DEPTH, both=True, mode=Mode.SUBTRACT)

    # Sketch2 → Cut-Extrude1 (cut, through all)
    with BuildSketch(Plane.ZY):
        with BuildLine():
            Line((-1.88348082, 2.95), (-15.34156858, 1.994983292))
            ThreePointArc((-15.34156858, 1.994983292), (-17.2, 0), (-15.34156858, -1.994983292))
            Line((-15.34156858, -1.994983292), (-1.88348082, -2.95))
            ThreePointArc((-1.88348082, -2.95), (0, -3.5), (1.88348082, -2.95))
            Line((1.88348082, -2.95), (15.34156858, -1.994983292))
            ThreePointArc((15.34156858, -1.994983292), (17.2, 0), (15.34156858, 1.994983292))
            Line((15.34156858, 1.994983292), (1.88348082, 2.95))
            ThreePointArc((1.88348082, 2.95), (0, 3.5), (-1.88348082, 2.95))
        make_face()
    extrude(amount=-CUT_EXTRUDE1_DEPTH, mode=Mode.SUBTRACT)


solid = part.part
